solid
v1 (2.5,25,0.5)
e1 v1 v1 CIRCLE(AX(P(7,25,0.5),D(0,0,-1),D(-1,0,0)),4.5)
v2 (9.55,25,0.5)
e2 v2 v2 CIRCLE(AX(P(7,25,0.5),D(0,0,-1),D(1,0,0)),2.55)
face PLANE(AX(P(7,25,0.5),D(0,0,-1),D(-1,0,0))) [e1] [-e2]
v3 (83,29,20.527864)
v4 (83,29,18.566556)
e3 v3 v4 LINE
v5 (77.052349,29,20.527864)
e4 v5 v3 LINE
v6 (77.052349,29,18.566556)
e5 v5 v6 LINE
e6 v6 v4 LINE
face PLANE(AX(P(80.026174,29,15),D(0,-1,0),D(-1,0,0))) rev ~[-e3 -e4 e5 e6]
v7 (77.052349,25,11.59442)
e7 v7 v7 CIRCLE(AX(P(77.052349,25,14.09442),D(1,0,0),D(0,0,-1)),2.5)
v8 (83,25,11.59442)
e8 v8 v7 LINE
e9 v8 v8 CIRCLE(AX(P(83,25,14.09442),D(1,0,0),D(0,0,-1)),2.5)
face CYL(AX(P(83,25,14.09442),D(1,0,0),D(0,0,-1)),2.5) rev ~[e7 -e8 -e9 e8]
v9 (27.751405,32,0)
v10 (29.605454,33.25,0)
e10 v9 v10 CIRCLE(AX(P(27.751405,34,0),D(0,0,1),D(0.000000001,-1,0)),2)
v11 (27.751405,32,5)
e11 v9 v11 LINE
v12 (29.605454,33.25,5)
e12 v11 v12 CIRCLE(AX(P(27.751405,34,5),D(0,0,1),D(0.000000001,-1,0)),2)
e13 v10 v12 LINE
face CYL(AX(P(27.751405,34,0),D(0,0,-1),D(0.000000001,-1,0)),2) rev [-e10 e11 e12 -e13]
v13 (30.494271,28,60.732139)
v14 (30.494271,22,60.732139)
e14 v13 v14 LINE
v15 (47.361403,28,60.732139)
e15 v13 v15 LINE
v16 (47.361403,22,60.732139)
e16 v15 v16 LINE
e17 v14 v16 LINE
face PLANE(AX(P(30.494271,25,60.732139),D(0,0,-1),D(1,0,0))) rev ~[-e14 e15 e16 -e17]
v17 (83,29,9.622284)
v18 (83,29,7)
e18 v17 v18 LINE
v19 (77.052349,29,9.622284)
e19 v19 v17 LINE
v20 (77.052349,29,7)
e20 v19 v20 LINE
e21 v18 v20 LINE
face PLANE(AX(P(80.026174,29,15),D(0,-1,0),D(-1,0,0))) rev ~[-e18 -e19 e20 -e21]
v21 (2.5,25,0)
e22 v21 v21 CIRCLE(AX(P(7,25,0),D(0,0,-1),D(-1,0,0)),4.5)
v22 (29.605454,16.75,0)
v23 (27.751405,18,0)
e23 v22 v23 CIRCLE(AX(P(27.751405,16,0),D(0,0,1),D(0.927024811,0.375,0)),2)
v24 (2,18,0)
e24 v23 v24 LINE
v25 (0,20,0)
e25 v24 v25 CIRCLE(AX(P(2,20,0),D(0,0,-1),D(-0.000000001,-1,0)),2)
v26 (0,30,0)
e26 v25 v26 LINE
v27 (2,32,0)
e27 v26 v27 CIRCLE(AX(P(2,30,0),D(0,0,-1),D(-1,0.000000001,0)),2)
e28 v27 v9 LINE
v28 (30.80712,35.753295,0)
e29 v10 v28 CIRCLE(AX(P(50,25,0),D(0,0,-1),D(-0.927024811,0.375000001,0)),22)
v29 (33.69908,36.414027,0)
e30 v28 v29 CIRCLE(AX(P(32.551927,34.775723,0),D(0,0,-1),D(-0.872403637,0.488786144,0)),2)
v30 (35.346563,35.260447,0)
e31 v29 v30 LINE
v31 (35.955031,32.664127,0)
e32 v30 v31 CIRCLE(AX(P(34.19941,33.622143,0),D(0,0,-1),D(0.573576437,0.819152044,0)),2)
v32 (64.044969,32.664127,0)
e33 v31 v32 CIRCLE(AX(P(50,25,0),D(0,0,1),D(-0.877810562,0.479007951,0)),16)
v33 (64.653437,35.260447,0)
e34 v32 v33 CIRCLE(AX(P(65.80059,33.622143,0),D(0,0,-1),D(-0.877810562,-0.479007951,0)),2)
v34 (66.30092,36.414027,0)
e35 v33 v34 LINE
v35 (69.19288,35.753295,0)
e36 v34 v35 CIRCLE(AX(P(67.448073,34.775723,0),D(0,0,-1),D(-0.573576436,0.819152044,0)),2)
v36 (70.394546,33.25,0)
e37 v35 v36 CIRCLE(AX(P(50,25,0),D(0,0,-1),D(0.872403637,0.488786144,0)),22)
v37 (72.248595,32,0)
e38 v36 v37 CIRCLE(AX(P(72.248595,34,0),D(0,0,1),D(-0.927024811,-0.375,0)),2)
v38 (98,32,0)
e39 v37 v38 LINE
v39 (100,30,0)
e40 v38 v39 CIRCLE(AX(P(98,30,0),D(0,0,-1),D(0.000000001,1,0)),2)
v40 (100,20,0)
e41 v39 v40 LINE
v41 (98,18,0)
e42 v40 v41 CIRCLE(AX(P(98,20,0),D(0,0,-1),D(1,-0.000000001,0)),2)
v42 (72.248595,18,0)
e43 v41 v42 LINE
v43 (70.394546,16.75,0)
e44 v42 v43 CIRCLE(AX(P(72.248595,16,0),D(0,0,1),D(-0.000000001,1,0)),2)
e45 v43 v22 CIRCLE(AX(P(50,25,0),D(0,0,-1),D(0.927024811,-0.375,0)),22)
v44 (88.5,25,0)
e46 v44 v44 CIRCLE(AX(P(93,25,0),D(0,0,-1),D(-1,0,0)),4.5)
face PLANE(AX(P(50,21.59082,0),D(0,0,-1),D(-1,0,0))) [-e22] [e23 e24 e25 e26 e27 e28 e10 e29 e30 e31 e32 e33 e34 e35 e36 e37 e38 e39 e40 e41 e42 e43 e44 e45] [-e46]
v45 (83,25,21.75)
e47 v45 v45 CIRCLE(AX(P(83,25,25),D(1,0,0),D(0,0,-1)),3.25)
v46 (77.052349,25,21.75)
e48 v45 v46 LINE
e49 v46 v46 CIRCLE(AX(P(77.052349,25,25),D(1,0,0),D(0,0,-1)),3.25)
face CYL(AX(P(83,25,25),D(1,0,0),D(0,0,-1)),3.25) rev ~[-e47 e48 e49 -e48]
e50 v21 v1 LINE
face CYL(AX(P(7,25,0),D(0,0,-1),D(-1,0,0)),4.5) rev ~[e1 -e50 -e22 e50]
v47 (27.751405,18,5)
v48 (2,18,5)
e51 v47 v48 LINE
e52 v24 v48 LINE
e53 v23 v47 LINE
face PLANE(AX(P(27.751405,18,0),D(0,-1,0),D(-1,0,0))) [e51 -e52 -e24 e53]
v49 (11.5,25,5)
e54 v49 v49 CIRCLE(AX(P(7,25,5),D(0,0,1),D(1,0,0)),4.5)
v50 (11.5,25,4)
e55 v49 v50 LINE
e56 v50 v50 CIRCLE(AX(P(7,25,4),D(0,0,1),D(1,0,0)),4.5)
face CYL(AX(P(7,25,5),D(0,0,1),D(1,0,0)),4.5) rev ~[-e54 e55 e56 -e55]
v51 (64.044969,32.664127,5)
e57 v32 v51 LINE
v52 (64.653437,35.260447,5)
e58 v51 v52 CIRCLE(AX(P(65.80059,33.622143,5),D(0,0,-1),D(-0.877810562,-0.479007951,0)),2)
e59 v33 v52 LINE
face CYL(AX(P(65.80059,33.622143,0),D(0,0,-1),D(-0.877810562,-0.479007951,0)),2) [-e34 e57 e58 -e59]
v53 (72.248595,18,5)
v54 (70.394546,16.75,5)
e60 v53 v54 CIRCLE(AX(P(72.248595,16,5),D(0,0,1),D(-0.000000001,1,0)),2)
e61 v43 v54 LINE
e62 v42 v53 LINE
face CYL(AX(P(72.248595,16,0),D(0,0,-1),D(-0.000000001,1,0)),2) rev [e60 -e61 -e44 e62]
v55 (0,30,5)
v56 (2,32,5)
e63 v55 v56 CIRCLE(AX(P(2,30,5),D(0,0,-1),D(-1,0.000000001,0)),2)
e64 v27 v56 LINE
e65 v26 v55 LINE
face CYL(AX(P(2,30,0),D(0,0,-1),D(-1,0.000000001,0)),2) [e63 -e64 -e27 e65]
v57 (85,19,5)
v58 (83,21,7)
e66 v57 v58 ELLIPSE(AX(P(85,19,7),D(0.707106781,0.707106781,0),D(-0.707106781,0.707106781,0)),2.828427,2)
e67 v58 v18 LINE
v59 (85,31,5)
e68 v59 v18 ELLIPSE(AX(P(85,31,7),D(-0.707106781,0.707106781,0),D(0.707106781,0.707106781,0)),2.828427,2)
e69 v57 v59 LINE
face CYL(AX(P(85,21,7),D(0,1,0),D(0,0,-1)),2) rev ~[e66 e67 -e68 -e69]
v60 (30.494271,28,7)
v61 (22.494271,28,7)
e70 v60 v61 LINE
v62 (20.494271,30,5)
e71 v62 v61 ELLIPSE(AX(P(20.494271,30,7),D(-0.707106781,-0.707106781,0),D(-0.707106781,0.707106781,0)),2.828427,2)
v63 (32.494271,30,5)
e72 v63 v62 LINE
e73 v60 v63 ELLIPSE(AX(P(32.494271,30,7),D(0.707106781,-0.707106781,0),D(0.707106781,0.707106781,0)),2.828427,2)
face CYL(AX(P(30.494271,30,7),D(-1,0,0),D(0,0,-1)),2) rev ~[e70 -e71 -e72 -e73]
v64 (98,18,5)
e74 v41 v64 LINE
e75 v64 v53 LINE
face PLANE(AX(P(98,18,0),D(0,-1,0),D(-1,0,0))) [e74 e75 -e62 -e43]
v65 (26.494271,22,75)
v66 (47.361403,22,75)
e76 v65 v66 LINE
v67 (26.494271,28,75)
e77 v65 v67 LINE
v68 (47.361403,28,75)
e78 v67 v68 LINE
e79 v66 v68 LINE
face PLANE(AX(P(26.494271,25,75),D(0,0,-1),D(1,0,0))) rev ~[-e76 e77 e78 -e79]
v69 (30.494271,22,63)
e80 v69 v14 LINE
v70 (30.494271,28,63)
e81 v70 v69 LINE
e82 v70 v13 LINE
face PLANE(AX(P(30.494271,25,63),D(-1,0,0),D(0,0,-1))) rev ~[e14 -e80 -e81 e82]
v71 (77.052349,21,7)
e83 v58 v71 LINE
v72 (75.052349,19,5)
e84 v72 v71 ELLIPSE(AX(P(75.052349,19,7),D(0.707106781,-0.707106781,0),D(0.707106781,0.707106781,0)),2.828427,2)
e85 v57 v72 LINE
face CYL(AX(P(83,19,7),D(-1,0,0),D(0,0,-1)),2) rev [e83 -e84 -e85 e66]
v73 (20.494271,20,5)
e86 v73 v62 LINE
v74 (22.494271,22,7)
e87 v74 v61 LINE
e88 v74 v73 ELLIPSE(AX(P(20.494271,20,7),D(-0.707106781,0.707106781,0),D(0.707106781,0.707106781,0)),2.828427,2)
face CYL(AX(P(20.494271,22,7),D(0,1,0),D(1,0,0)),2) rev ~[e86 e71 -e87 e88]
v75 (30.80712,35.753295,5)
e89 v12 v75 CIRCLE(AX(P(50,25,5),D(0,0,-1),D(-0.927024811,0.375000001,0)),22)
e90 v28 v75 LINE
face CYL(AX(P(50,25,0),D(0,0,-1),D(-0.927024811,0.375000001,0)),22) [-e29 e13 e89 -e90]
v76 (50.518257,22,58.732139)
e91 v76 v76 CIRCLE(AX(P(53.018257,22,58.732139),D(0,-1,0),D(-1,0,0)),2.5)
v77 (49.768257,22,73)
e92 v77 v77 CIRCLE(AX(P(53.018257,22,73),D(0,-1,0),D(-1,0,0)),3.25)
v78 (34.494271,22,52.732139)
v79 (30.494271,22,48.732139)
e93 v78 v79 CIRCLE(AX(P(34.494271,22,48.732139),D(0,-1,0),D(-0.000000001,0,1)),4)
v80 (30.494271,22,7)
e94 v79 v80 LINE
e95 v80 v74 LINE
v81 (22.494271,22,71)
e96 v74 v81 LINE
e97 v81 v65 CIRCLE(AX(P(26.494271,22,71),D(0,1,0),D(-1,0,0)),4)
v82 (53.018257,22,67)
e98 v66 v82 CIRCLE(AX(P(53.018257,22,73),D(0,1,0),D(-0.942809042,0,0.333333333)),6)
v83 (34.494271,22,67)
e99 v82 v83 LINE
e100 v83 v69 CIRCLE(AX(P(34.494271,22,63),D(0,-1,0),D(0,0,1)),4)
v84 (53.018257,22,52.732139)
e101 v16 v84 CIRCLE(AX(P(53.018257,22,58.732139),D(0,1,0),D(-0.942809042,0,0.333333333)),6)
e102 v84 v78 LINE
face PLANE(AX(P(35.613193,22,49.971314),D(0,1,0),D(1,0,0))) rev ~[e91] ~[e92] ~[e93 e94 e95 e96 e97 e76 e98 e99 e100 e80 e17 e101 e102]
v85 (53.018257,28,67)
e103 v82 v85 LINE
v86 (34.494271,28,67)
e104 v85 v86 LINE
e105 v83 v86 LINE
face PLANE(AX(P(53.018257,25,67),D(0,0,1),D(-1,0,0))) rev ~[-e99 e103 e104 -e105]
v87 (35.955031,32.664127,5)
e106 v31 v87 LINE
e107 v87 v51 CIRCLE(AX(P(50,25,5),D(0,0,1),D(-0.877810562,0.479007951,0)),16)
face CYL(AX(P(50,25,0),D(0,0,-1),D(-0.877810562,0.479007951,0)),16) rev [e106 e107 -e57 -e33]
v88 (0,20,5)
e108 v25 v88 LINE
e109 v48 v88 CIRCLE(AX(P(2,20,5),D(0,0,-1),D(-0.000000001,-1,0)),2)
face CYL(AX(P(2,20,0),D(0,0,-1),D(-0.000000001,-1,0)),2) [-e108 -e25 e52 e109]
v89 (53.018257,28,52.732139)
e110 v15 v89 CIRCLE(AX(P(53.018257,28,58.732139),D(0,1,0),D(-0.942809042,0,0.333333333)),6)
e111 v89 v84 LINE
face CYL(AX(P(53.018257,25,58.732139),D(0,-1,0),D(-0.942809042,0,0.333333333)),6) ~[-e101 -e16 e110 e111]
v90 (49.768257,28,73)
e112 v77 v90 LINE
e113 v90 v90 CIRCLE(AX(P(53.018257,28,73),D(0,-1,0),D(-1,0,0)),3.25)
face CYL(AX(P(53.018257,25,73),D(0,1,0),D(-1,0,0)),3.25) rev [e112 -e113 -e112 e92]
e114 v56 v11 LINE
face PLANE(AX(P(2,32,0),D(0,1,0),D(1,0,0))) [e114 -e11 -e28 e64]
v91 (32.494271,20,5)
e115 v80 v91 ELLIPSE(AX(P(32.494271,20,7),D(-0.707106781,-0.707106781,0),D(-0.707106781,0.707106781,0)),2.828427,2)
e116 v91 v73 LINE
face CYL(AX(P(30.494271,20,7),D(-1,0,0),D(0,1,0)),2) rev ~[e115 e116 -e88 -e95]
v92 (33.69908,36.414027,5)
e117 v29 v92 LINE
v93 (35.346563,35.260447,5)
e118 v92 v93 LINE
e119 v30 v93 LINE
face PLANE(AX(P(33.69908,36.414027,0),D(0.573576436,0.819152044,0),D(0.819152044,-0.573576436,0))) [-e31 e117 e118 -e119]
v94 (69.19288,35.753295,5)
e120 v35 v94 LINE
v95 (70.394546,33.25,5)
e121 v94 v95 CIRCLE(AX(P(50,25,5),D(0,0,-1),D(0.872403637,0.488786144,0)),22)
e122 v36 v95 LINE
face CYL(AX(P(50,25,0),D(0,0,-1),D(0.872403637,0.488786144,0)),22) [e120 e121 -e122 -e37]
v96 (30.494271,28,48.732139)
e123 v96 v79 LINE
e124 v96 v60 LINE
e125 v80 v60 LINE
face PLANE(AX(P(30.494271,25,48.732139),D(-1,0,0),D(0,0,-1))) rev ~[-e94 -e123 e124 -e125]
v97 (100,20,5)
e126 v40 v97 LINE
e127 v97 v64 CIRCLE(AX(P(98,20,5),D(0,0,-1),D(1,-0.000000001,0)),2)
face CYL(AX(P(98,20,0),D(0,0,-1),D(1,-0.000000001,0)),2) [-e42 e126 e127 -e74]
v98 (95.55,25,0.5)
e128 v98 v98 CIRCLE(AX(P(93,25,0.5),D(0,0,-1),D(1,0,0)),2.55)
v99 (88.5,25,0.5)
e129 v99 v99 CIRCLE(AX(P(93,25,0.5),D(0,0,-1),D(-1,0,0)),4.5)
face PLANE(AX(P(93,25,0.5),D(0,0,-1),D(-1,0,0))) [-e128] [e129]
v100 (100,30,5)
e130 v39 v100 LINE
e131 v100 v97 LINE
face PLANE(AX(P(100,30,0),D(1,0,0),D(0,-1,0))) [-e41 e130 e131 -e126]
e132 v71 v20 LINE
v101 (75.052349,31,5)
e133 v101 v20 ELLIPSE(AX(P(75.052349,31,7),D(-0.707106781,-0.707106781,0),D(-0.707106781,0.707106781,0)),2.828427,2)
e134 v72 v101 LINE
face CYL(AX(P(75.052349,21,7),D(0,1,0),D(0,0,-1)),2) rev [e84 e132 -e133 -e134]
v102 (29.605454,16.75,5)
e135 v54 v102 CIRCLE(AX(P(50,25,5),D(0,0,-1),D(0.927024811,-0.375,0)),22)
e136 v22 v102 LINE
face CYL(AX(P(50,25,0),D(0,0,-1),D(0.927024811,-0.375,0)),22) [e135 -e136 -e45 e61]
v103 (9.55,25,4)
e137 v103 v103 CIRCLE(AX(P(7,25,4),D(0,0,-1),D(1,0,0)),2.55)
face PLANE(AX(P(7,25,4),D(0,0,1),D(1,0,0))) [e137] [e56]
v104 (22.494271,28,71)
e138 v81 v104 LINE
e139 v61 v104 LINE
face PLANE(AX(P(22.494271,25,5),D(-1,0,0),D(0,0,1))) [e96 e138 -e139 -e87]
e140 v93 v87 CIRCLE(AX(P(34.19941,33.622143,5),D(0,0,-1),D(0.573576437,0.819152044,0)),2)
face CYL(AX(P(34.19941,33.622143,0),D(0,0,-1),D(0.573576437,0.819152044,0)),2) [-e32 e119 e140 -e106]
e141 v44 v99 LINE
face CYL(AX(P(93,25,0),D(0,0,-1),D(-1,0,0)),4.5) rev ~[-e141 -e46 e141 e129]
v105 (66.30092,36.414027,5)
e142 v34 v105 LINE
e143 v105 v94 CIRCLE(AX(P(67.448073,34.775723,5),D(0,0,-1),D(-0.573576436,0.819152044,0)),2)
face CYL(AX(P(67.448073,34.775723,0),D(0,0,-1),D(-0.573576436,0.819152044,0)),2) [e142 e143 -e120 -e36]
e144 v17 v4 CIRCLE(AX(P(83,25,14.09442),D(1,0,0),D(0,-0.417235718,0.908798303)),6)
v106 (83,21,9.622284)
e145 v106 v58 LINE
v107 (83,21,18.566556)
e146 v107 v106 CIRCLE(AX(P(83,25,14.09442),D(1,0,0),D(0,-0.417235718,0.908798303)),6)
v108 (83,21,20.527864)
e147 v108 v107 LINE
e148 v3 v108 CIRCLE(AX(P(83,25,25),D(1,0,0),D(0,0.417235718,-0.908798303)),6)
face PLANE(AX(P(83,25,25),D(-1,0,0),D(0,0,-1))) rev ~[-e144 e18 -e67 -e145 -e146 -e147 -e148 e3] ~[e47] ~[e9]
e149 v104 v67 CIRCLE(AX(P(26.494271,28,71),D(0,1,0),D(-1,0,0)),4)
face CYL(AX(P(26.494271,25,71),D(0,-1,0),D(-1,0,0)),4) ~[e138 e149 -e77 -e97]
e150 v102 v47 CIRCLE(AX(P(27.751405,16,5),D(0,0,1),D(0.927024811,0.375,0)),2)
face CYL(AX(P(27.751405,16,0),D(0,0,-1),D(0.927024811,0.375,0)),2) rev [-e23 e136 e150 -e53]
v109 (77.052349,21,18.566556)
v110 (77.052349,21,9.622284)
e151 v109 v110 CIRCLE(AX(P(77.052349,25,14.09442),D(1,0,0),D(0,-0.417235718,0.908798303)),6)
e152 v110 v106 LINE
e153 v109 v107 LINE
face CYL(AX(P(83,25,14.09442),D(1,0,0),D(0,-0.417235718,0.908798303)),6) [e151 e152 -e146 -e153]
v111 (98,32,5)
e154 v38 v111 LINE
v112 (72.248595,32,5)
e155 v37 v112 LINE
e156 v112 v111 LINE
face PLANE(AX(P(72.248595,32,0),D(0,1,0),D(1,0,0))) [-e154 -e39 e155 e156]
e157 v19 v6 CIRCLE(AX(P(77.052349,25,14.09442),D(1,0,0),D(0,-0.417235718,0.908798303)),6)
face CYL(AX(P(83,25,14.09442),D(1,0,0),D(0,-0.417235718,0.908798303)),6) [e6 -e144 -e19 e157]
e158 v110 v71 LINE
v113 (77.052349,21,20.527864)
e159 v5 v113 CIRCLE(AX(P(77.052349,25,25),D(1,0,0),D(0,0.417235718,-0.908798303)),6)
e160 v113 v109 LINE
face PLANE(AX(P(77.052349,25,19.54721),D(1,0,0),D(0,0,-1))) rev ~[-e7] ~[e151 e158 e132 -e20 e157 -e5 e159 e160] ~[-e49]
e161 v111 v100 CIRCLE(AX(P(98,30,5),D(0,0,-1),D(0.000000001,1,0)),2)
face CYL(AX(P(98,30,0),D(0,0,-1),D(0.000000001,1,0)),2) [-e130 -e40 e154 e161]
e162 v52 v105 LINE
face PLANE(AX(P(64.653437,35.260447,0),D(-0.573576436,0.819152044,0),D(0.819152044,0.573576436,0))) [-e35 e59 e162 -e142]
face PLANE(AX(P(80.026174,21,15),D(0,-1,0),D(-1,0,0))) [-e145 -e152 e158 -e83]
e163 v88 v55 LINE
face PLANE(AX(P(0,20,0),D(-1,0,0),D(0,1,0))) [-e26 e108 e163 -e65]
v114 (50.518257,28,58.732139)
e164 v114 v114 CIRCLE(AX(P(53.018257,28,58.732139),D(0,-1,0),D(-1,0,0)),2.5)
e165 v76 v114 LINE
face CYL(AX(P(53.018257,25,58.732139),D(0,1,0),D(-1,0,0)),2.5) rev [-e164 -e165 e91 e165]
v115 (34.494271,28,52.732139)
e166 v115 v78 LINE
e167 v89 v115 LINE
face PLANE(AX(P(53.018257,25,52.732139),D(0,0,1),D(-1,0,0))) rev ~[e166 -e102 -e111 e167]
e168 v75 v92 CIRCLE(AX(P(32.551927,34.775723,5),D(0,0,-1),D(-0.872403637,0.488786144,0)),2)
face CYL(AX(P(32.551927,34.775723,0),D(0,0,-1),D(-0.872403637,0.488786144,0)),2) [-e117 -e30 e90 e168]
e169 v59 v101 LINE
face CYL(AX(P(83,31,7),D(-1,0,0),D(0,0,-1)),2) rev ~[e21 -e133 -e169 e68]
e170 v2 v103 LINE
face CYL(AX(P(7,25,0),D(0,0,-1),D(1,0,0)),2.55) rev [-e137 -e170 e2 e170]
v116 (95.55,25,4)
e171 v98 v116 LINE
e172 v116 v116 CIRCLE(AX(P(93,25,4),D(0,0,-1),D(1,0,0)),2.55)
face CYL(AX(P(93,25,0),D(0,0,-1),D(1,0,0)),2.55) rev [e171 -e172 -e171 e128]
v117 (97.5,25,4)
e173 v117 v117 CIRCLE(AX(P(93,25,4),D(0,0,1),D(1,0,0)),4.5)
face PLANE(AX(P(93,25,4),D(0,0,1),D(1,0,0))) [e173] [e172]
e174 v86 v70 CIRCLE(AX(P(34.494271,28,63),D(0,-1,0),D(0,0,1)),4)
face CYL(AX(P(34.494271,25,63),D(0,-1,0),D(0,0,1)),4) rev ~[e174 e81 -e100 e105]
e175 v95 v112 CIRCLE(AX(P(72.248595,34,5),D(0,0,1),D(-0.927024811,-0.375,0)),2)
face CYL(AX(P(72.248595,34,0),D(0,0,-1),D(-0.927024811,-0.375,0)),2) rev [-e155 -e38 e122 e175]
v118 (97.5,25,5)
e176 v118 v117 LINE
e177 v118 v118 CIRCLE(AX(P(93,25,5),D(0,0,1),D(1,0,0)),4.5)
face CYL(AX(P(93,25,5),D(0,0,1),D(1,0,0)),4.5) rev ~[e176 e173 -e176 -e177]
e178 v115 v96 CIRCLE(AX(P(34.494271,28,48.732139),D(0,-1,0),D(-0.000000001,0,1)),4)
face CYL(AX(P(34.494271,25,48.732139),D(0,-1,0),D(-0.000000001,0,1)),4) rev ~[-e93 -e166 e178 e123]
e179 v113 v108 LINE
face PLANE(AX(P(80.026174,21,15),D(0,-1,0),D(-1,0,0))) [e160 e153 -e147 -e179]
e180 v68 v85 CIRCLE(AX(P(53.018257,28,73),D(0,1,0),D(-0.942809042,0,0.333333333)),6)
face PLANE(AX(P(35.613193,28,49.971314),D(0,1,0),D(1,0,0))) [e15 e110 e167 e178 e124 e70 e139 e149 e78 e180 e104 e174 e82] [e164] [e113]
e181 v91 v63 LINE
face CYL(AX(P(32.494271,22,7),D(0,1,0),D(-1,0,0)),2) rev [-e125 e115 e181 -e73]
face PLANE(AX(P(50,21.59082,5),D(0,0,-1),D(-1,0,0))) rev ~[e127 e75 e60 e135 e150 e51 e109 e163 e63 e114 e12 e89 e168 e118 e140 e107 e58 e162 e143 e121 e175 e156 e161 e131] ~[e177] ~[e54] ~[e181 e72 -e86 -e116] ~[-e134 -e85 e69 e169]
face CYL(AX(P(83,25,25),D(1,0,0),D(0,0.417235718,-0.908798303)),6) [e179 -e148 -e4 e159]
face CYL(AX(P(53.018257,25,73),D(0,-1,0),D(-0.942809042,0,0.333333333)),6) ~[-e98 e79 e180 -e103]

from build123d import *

# Parameters (mm, degrees)
SKETCH1_R                = 2.55
BOSS_EXTRUDE1_DEPTH      = 5
SKETCH4_R                = 4.5
CUT_EXTRUDE2_DEPTH       = 1
SKETCH6_W                = 5.947651005
SKETCH6_H                = 20
BOSS_EXTRUDE2_DEPTH      = 4
BOSS_EXTRUDE2_DEPTH_BACK = 4
SKETCH11_R               = 4.5
CUT_EXTRUDE3_DEPTH       = 0.5
SKETCH16_R               = 3.25
SKETCH16_R_2             = 2.5
BOSS_EXTRUDE3_DEPTH      = 3
BOSS_EXTRUDE3_DEPTH_BACK = 3
FILLET3_R                = 2
BOSS_EXTRUDE4_DEPTH      = 5.947651
CUT_EXTRUDE5_REACH       = 85
SKETCH18_R               = 3.25
SKETCH18_R_2             = 2.5


with BuildPart() as part:
    # Sketch1 → Boss-Extrude1 (new body)
    with BuildSketch(Plane.XY):
        with BuildLine():
            Line((100, 25), (100, 20))
            ThreePointArc((100, 20), (99.414213562, 18.585786438), (98, 18))
            Line((98, 18), (72.248595461, 18))
            ThreePointArc((72.248595461, 18), (71.130561473, 17.658312395), (70.39454584, 16.75))
            ThreePointArc((70.39454584, 16.75), (50, 3), (29.60545416, 16.75))
            ThreePointArc((29.60545416, 16.75), (28.869438527, 17.658312395), (27.751404539, 18))
            Line((27.751404539, 18), (2, 18))
            ThreePointArc((2, 18), (0.585786438, 18.585786438), (0, 20))
            Line((0, 20), (0, 25))
            Line((0, 25), (0, 30))
            ThreePointArc((0, 30), (0.585786438, 31.414213562), (2, 32))
            Line((2, 32), (21.056240945, 32))
            Line((21.056240945, 32), (27.751404539, 32))
            ThreePointArc((27.751404539, 32), (28.869438527, 32.341687605), (29.60545416, 33.25))
            ThreePointArc((29.60545416, 33.25), (30.166752838, 34.520625347), (30.807119991, 35.753295167))
            ThreePointArc((30.807119991, 35.753295167), (32.106461975, 36.725482012), (33.699080137, 36.414026968))
            Line((33.699080137, 36.414026968), (35.34656276, 35.260447216))
            ThreePointArc((35.34656276, 35.260447216), (36.146649881, 34.078494315), (35.955031011, 32.664127224))
            ThreePointArc((35.955031011, 32.664127224), (50, 9), (64.044968989, 32.664127224))
            ThreePointArc((64.044968989, 32.664127224), (63.853350119, 34.078494315), (64.65343724, 35.260447216))
            Line((64.65343724, 35.260447216), (66.300919863, 36.414026968))
            ThreePointArc((66.300919863, 36.414026968), (67.893538025, 36.725482012), (69.192880009, 35.753295167))
            ThreePointArc((69.192880009, 35.753295167), (69.833247162, 34.520625347), (70.39454584, 33.25))
            ThreePointArc((70.39454584, 33.25), (71.130561473, 32.341687605), (72.248595461, 32))
            Line((72.248595461, 32), (78.943759055, 32))
            Line((78.943759055, 32), (98, 32))
            ThreePointArc((98, 32), (99.414213562, 31.414213562), (100, 30))
            Line((100, 30), (100, 25))
        make_face()
        with Locations((93, 25)):
            Circle(SKETCH1_R, mode=Mode.SUBTRACT)
        with Locations((7, 25)):
            Circle(SKETCH1_R, mode=Mode.SUBTRACT)
    extrude(amount=BOSS_EXTRUDE1_DEPTH)

    # Sketch4 → Cut-Extrude2 (cut)
    with BuildSketch(Plane.XY.offset(5)):
        with Locations((93, 25)):
            Circle(SKETCH4_R)
        with Locations((7, 25)):
            Circle(SKETCH4_R)
    extrude(amount=-CUT_EXTRUDE2_DEPTH, mode=Mode.SUBTRACT)

    # Sketch6 → Boss-Extrude2 (add, two sides)
    with BuildSketch(Plane(origin=(0, 25, 0), x_dir=(-1, 0, 0), z_dir=(0, -1, 0))) as boss_extrude2_sk:
        with Locations((-80.026174497, -15)):
            Rectangle(SKETCH6_W, SKETCH6_H)
    extrude(amount=BOSS_EXTRUDE2_DEPTH)
    extrude(boss_extrude2_sk.sketch, amount=-BOSS_EXTRUDE2_DEPTH_BACK)

    # Sketch11 → Cut-Extrude3 (cut)
    with BuildSketch(Plane(origin=(0, 0, 0), x_dir=(-1, 0, 0), z_dir=(0, 0, -1))):
        with Locations((-93, 25)):
            Circle(SKETCH11_R)
        with Locations((-7, 25)):
            Circle(SKETCH11_R)
    extrude(amount=-CUT_EXTRUDE3_DEPTH, mode=Mode.SUBTRACT)

    # Sketch16 → Boss-Extrude3 (add, two sides)
    with BuildSketch(Plane(origin=(0, 25, 0), x_dir=(-1, 0, 0), z_dir=(0, -1, 0))) as boss_extrude3_sk:
        with BuildLine():
            Line((-30.494270905, -5), (-22.494270905, -5))
            Line((-22.494270905, -5), (-22.494270905, -71))
            ThreePointArc((-22.494270905, -71), (-23.665843781, -73.828427125), (-26.494270905, -75))
            Line((-26.494270905, -75), (-30.494270905, -75))
            Line((-30.494270905, -75), (-47.361403242, -75))
            ThreePointArc((-47.361403242, -75), (-57.917236977, -76.464101615), (-53.018257491, -67))
            Line((-53.018257491, -67), (-34.494270905, -67))
            ThreePointArc((-34.494270905, -67), (-31.665843781, -65.828427125), (-30.494270905, -63))
            Line((-30.494270905, -63), (-30.494270905, -60.732138804))
            Line((-30.494270905, -60.732138804), (-47.361403242, -60.732138804))
            ThreePointArc((-47.361403242, -60.732138804), (-57.917236977, -62.196240419), (-53.018257491, -52.732138804))
            Line((-53.018257491, -52.732138804), (-34.494270905, -52.732138804))
            ThreePointArc((-34.494270905, -52.732138804), (-31.665843781, -51.560565928), (-30.494270905, -48.732138804))
            Line((-30.494270905, -48.732138804), (-30.494270905, -5))
        make_face()
        with Locations((-53.018257491, -73)):
            Circle(SKETCH16_R, mode=Mode.SUBTRACT)
        with Locations((-53.018257491, -58.732138804)):
            Circle(SKETCH16_R_2, mode=Mode.SUBTRACT)
    extrude(amount=BOSS_EXTRUDE3_DEPTH)
    extrude(boss_extrude3_sk.sketch, amount=-BOSS_EXTRUDE3_DEPTH_BACK)

    # Fillet3
    fillet3_edges = [part.edges().sort_by_distance(p)[0] for p in [
        (83, 25, 5),
        (80.026174498, 29, 5),
        (77.052348995, 25, 5),
        (80.026174498, 21, 5),
        (30.494270905, 25, 5),
        (26.494270905, 28, 5),
        (22.494270905, 25, 5),
        (26.494270905, 22, 5),
    ]]
    fillet(fillet3_edges, radius=FILLET3_R)

    # Sketch17 → Boss-Extrude4 (add)
    with BuildSketch(Plane(origin=(83, 0, 0), x_dir=(0, 0, -1), z_dir=(1, 0, 0))):
        with BuildLine():
            ThreePointArc((-19.547210182, 27.503414308), (-31, 25), (-19.547210182, 22.496585692))
            ThreePointArc((-19.547210182, 22.496585692), (-8.094420363, 25), (-19.547210182, 27.503414308))
        make_face()
    extrude(amount=-BOSS_EXTRUDE4_DEPTH)

    # Sketch18 → Cut-Extrude5 (cut, up to next)
    with BuildSketch(Plane(origin=(83, 0, 0), x_dir=(0, 0, -1), z_dir=(1, 0, 0)), mode=Mode.PRIVATE) as cut_extrude5_sk1:
        with Locations((-25, 25)):
            Circle(SKETCH18_R)
    cut_extrude5_tool1 = extrude(cut_extrude5_sk1.sketch, amount=-CUT_EXTRUDE5_REACH, mode=Mode.PRIVATE) & part.part
    add(cut_extrude5_tool1.solids().sort_by_distance((83, 25, 25))[0], mode=Mode.SUBTRACT)
    # Sketch18 → Cut-Extrude5 (cut, up to next)
    with BuildSketch(Plane(origin=(83, 0, 0), x_dir=(0, 0, -1), z_dir=(1, 0, 0)), mode=Mode.PRIVATE) as cut_extrude5_sk2:
        with Locations((-14.094420363, 25)):
            Circle(SKETCH18_R_2)
    cut_extrude5_tool2 = extrude(cut_extrude5_sk2.sketch, amount=-CUT_EXTRUDE5_REACH, mode=Mode.PRIVATE) & part.part
    add(cut_extrude5_tool2.solids().sort_by_distance((83, 25, 14.09442))[0], mode=Mode.SUBTRACT)


solid = part.part
